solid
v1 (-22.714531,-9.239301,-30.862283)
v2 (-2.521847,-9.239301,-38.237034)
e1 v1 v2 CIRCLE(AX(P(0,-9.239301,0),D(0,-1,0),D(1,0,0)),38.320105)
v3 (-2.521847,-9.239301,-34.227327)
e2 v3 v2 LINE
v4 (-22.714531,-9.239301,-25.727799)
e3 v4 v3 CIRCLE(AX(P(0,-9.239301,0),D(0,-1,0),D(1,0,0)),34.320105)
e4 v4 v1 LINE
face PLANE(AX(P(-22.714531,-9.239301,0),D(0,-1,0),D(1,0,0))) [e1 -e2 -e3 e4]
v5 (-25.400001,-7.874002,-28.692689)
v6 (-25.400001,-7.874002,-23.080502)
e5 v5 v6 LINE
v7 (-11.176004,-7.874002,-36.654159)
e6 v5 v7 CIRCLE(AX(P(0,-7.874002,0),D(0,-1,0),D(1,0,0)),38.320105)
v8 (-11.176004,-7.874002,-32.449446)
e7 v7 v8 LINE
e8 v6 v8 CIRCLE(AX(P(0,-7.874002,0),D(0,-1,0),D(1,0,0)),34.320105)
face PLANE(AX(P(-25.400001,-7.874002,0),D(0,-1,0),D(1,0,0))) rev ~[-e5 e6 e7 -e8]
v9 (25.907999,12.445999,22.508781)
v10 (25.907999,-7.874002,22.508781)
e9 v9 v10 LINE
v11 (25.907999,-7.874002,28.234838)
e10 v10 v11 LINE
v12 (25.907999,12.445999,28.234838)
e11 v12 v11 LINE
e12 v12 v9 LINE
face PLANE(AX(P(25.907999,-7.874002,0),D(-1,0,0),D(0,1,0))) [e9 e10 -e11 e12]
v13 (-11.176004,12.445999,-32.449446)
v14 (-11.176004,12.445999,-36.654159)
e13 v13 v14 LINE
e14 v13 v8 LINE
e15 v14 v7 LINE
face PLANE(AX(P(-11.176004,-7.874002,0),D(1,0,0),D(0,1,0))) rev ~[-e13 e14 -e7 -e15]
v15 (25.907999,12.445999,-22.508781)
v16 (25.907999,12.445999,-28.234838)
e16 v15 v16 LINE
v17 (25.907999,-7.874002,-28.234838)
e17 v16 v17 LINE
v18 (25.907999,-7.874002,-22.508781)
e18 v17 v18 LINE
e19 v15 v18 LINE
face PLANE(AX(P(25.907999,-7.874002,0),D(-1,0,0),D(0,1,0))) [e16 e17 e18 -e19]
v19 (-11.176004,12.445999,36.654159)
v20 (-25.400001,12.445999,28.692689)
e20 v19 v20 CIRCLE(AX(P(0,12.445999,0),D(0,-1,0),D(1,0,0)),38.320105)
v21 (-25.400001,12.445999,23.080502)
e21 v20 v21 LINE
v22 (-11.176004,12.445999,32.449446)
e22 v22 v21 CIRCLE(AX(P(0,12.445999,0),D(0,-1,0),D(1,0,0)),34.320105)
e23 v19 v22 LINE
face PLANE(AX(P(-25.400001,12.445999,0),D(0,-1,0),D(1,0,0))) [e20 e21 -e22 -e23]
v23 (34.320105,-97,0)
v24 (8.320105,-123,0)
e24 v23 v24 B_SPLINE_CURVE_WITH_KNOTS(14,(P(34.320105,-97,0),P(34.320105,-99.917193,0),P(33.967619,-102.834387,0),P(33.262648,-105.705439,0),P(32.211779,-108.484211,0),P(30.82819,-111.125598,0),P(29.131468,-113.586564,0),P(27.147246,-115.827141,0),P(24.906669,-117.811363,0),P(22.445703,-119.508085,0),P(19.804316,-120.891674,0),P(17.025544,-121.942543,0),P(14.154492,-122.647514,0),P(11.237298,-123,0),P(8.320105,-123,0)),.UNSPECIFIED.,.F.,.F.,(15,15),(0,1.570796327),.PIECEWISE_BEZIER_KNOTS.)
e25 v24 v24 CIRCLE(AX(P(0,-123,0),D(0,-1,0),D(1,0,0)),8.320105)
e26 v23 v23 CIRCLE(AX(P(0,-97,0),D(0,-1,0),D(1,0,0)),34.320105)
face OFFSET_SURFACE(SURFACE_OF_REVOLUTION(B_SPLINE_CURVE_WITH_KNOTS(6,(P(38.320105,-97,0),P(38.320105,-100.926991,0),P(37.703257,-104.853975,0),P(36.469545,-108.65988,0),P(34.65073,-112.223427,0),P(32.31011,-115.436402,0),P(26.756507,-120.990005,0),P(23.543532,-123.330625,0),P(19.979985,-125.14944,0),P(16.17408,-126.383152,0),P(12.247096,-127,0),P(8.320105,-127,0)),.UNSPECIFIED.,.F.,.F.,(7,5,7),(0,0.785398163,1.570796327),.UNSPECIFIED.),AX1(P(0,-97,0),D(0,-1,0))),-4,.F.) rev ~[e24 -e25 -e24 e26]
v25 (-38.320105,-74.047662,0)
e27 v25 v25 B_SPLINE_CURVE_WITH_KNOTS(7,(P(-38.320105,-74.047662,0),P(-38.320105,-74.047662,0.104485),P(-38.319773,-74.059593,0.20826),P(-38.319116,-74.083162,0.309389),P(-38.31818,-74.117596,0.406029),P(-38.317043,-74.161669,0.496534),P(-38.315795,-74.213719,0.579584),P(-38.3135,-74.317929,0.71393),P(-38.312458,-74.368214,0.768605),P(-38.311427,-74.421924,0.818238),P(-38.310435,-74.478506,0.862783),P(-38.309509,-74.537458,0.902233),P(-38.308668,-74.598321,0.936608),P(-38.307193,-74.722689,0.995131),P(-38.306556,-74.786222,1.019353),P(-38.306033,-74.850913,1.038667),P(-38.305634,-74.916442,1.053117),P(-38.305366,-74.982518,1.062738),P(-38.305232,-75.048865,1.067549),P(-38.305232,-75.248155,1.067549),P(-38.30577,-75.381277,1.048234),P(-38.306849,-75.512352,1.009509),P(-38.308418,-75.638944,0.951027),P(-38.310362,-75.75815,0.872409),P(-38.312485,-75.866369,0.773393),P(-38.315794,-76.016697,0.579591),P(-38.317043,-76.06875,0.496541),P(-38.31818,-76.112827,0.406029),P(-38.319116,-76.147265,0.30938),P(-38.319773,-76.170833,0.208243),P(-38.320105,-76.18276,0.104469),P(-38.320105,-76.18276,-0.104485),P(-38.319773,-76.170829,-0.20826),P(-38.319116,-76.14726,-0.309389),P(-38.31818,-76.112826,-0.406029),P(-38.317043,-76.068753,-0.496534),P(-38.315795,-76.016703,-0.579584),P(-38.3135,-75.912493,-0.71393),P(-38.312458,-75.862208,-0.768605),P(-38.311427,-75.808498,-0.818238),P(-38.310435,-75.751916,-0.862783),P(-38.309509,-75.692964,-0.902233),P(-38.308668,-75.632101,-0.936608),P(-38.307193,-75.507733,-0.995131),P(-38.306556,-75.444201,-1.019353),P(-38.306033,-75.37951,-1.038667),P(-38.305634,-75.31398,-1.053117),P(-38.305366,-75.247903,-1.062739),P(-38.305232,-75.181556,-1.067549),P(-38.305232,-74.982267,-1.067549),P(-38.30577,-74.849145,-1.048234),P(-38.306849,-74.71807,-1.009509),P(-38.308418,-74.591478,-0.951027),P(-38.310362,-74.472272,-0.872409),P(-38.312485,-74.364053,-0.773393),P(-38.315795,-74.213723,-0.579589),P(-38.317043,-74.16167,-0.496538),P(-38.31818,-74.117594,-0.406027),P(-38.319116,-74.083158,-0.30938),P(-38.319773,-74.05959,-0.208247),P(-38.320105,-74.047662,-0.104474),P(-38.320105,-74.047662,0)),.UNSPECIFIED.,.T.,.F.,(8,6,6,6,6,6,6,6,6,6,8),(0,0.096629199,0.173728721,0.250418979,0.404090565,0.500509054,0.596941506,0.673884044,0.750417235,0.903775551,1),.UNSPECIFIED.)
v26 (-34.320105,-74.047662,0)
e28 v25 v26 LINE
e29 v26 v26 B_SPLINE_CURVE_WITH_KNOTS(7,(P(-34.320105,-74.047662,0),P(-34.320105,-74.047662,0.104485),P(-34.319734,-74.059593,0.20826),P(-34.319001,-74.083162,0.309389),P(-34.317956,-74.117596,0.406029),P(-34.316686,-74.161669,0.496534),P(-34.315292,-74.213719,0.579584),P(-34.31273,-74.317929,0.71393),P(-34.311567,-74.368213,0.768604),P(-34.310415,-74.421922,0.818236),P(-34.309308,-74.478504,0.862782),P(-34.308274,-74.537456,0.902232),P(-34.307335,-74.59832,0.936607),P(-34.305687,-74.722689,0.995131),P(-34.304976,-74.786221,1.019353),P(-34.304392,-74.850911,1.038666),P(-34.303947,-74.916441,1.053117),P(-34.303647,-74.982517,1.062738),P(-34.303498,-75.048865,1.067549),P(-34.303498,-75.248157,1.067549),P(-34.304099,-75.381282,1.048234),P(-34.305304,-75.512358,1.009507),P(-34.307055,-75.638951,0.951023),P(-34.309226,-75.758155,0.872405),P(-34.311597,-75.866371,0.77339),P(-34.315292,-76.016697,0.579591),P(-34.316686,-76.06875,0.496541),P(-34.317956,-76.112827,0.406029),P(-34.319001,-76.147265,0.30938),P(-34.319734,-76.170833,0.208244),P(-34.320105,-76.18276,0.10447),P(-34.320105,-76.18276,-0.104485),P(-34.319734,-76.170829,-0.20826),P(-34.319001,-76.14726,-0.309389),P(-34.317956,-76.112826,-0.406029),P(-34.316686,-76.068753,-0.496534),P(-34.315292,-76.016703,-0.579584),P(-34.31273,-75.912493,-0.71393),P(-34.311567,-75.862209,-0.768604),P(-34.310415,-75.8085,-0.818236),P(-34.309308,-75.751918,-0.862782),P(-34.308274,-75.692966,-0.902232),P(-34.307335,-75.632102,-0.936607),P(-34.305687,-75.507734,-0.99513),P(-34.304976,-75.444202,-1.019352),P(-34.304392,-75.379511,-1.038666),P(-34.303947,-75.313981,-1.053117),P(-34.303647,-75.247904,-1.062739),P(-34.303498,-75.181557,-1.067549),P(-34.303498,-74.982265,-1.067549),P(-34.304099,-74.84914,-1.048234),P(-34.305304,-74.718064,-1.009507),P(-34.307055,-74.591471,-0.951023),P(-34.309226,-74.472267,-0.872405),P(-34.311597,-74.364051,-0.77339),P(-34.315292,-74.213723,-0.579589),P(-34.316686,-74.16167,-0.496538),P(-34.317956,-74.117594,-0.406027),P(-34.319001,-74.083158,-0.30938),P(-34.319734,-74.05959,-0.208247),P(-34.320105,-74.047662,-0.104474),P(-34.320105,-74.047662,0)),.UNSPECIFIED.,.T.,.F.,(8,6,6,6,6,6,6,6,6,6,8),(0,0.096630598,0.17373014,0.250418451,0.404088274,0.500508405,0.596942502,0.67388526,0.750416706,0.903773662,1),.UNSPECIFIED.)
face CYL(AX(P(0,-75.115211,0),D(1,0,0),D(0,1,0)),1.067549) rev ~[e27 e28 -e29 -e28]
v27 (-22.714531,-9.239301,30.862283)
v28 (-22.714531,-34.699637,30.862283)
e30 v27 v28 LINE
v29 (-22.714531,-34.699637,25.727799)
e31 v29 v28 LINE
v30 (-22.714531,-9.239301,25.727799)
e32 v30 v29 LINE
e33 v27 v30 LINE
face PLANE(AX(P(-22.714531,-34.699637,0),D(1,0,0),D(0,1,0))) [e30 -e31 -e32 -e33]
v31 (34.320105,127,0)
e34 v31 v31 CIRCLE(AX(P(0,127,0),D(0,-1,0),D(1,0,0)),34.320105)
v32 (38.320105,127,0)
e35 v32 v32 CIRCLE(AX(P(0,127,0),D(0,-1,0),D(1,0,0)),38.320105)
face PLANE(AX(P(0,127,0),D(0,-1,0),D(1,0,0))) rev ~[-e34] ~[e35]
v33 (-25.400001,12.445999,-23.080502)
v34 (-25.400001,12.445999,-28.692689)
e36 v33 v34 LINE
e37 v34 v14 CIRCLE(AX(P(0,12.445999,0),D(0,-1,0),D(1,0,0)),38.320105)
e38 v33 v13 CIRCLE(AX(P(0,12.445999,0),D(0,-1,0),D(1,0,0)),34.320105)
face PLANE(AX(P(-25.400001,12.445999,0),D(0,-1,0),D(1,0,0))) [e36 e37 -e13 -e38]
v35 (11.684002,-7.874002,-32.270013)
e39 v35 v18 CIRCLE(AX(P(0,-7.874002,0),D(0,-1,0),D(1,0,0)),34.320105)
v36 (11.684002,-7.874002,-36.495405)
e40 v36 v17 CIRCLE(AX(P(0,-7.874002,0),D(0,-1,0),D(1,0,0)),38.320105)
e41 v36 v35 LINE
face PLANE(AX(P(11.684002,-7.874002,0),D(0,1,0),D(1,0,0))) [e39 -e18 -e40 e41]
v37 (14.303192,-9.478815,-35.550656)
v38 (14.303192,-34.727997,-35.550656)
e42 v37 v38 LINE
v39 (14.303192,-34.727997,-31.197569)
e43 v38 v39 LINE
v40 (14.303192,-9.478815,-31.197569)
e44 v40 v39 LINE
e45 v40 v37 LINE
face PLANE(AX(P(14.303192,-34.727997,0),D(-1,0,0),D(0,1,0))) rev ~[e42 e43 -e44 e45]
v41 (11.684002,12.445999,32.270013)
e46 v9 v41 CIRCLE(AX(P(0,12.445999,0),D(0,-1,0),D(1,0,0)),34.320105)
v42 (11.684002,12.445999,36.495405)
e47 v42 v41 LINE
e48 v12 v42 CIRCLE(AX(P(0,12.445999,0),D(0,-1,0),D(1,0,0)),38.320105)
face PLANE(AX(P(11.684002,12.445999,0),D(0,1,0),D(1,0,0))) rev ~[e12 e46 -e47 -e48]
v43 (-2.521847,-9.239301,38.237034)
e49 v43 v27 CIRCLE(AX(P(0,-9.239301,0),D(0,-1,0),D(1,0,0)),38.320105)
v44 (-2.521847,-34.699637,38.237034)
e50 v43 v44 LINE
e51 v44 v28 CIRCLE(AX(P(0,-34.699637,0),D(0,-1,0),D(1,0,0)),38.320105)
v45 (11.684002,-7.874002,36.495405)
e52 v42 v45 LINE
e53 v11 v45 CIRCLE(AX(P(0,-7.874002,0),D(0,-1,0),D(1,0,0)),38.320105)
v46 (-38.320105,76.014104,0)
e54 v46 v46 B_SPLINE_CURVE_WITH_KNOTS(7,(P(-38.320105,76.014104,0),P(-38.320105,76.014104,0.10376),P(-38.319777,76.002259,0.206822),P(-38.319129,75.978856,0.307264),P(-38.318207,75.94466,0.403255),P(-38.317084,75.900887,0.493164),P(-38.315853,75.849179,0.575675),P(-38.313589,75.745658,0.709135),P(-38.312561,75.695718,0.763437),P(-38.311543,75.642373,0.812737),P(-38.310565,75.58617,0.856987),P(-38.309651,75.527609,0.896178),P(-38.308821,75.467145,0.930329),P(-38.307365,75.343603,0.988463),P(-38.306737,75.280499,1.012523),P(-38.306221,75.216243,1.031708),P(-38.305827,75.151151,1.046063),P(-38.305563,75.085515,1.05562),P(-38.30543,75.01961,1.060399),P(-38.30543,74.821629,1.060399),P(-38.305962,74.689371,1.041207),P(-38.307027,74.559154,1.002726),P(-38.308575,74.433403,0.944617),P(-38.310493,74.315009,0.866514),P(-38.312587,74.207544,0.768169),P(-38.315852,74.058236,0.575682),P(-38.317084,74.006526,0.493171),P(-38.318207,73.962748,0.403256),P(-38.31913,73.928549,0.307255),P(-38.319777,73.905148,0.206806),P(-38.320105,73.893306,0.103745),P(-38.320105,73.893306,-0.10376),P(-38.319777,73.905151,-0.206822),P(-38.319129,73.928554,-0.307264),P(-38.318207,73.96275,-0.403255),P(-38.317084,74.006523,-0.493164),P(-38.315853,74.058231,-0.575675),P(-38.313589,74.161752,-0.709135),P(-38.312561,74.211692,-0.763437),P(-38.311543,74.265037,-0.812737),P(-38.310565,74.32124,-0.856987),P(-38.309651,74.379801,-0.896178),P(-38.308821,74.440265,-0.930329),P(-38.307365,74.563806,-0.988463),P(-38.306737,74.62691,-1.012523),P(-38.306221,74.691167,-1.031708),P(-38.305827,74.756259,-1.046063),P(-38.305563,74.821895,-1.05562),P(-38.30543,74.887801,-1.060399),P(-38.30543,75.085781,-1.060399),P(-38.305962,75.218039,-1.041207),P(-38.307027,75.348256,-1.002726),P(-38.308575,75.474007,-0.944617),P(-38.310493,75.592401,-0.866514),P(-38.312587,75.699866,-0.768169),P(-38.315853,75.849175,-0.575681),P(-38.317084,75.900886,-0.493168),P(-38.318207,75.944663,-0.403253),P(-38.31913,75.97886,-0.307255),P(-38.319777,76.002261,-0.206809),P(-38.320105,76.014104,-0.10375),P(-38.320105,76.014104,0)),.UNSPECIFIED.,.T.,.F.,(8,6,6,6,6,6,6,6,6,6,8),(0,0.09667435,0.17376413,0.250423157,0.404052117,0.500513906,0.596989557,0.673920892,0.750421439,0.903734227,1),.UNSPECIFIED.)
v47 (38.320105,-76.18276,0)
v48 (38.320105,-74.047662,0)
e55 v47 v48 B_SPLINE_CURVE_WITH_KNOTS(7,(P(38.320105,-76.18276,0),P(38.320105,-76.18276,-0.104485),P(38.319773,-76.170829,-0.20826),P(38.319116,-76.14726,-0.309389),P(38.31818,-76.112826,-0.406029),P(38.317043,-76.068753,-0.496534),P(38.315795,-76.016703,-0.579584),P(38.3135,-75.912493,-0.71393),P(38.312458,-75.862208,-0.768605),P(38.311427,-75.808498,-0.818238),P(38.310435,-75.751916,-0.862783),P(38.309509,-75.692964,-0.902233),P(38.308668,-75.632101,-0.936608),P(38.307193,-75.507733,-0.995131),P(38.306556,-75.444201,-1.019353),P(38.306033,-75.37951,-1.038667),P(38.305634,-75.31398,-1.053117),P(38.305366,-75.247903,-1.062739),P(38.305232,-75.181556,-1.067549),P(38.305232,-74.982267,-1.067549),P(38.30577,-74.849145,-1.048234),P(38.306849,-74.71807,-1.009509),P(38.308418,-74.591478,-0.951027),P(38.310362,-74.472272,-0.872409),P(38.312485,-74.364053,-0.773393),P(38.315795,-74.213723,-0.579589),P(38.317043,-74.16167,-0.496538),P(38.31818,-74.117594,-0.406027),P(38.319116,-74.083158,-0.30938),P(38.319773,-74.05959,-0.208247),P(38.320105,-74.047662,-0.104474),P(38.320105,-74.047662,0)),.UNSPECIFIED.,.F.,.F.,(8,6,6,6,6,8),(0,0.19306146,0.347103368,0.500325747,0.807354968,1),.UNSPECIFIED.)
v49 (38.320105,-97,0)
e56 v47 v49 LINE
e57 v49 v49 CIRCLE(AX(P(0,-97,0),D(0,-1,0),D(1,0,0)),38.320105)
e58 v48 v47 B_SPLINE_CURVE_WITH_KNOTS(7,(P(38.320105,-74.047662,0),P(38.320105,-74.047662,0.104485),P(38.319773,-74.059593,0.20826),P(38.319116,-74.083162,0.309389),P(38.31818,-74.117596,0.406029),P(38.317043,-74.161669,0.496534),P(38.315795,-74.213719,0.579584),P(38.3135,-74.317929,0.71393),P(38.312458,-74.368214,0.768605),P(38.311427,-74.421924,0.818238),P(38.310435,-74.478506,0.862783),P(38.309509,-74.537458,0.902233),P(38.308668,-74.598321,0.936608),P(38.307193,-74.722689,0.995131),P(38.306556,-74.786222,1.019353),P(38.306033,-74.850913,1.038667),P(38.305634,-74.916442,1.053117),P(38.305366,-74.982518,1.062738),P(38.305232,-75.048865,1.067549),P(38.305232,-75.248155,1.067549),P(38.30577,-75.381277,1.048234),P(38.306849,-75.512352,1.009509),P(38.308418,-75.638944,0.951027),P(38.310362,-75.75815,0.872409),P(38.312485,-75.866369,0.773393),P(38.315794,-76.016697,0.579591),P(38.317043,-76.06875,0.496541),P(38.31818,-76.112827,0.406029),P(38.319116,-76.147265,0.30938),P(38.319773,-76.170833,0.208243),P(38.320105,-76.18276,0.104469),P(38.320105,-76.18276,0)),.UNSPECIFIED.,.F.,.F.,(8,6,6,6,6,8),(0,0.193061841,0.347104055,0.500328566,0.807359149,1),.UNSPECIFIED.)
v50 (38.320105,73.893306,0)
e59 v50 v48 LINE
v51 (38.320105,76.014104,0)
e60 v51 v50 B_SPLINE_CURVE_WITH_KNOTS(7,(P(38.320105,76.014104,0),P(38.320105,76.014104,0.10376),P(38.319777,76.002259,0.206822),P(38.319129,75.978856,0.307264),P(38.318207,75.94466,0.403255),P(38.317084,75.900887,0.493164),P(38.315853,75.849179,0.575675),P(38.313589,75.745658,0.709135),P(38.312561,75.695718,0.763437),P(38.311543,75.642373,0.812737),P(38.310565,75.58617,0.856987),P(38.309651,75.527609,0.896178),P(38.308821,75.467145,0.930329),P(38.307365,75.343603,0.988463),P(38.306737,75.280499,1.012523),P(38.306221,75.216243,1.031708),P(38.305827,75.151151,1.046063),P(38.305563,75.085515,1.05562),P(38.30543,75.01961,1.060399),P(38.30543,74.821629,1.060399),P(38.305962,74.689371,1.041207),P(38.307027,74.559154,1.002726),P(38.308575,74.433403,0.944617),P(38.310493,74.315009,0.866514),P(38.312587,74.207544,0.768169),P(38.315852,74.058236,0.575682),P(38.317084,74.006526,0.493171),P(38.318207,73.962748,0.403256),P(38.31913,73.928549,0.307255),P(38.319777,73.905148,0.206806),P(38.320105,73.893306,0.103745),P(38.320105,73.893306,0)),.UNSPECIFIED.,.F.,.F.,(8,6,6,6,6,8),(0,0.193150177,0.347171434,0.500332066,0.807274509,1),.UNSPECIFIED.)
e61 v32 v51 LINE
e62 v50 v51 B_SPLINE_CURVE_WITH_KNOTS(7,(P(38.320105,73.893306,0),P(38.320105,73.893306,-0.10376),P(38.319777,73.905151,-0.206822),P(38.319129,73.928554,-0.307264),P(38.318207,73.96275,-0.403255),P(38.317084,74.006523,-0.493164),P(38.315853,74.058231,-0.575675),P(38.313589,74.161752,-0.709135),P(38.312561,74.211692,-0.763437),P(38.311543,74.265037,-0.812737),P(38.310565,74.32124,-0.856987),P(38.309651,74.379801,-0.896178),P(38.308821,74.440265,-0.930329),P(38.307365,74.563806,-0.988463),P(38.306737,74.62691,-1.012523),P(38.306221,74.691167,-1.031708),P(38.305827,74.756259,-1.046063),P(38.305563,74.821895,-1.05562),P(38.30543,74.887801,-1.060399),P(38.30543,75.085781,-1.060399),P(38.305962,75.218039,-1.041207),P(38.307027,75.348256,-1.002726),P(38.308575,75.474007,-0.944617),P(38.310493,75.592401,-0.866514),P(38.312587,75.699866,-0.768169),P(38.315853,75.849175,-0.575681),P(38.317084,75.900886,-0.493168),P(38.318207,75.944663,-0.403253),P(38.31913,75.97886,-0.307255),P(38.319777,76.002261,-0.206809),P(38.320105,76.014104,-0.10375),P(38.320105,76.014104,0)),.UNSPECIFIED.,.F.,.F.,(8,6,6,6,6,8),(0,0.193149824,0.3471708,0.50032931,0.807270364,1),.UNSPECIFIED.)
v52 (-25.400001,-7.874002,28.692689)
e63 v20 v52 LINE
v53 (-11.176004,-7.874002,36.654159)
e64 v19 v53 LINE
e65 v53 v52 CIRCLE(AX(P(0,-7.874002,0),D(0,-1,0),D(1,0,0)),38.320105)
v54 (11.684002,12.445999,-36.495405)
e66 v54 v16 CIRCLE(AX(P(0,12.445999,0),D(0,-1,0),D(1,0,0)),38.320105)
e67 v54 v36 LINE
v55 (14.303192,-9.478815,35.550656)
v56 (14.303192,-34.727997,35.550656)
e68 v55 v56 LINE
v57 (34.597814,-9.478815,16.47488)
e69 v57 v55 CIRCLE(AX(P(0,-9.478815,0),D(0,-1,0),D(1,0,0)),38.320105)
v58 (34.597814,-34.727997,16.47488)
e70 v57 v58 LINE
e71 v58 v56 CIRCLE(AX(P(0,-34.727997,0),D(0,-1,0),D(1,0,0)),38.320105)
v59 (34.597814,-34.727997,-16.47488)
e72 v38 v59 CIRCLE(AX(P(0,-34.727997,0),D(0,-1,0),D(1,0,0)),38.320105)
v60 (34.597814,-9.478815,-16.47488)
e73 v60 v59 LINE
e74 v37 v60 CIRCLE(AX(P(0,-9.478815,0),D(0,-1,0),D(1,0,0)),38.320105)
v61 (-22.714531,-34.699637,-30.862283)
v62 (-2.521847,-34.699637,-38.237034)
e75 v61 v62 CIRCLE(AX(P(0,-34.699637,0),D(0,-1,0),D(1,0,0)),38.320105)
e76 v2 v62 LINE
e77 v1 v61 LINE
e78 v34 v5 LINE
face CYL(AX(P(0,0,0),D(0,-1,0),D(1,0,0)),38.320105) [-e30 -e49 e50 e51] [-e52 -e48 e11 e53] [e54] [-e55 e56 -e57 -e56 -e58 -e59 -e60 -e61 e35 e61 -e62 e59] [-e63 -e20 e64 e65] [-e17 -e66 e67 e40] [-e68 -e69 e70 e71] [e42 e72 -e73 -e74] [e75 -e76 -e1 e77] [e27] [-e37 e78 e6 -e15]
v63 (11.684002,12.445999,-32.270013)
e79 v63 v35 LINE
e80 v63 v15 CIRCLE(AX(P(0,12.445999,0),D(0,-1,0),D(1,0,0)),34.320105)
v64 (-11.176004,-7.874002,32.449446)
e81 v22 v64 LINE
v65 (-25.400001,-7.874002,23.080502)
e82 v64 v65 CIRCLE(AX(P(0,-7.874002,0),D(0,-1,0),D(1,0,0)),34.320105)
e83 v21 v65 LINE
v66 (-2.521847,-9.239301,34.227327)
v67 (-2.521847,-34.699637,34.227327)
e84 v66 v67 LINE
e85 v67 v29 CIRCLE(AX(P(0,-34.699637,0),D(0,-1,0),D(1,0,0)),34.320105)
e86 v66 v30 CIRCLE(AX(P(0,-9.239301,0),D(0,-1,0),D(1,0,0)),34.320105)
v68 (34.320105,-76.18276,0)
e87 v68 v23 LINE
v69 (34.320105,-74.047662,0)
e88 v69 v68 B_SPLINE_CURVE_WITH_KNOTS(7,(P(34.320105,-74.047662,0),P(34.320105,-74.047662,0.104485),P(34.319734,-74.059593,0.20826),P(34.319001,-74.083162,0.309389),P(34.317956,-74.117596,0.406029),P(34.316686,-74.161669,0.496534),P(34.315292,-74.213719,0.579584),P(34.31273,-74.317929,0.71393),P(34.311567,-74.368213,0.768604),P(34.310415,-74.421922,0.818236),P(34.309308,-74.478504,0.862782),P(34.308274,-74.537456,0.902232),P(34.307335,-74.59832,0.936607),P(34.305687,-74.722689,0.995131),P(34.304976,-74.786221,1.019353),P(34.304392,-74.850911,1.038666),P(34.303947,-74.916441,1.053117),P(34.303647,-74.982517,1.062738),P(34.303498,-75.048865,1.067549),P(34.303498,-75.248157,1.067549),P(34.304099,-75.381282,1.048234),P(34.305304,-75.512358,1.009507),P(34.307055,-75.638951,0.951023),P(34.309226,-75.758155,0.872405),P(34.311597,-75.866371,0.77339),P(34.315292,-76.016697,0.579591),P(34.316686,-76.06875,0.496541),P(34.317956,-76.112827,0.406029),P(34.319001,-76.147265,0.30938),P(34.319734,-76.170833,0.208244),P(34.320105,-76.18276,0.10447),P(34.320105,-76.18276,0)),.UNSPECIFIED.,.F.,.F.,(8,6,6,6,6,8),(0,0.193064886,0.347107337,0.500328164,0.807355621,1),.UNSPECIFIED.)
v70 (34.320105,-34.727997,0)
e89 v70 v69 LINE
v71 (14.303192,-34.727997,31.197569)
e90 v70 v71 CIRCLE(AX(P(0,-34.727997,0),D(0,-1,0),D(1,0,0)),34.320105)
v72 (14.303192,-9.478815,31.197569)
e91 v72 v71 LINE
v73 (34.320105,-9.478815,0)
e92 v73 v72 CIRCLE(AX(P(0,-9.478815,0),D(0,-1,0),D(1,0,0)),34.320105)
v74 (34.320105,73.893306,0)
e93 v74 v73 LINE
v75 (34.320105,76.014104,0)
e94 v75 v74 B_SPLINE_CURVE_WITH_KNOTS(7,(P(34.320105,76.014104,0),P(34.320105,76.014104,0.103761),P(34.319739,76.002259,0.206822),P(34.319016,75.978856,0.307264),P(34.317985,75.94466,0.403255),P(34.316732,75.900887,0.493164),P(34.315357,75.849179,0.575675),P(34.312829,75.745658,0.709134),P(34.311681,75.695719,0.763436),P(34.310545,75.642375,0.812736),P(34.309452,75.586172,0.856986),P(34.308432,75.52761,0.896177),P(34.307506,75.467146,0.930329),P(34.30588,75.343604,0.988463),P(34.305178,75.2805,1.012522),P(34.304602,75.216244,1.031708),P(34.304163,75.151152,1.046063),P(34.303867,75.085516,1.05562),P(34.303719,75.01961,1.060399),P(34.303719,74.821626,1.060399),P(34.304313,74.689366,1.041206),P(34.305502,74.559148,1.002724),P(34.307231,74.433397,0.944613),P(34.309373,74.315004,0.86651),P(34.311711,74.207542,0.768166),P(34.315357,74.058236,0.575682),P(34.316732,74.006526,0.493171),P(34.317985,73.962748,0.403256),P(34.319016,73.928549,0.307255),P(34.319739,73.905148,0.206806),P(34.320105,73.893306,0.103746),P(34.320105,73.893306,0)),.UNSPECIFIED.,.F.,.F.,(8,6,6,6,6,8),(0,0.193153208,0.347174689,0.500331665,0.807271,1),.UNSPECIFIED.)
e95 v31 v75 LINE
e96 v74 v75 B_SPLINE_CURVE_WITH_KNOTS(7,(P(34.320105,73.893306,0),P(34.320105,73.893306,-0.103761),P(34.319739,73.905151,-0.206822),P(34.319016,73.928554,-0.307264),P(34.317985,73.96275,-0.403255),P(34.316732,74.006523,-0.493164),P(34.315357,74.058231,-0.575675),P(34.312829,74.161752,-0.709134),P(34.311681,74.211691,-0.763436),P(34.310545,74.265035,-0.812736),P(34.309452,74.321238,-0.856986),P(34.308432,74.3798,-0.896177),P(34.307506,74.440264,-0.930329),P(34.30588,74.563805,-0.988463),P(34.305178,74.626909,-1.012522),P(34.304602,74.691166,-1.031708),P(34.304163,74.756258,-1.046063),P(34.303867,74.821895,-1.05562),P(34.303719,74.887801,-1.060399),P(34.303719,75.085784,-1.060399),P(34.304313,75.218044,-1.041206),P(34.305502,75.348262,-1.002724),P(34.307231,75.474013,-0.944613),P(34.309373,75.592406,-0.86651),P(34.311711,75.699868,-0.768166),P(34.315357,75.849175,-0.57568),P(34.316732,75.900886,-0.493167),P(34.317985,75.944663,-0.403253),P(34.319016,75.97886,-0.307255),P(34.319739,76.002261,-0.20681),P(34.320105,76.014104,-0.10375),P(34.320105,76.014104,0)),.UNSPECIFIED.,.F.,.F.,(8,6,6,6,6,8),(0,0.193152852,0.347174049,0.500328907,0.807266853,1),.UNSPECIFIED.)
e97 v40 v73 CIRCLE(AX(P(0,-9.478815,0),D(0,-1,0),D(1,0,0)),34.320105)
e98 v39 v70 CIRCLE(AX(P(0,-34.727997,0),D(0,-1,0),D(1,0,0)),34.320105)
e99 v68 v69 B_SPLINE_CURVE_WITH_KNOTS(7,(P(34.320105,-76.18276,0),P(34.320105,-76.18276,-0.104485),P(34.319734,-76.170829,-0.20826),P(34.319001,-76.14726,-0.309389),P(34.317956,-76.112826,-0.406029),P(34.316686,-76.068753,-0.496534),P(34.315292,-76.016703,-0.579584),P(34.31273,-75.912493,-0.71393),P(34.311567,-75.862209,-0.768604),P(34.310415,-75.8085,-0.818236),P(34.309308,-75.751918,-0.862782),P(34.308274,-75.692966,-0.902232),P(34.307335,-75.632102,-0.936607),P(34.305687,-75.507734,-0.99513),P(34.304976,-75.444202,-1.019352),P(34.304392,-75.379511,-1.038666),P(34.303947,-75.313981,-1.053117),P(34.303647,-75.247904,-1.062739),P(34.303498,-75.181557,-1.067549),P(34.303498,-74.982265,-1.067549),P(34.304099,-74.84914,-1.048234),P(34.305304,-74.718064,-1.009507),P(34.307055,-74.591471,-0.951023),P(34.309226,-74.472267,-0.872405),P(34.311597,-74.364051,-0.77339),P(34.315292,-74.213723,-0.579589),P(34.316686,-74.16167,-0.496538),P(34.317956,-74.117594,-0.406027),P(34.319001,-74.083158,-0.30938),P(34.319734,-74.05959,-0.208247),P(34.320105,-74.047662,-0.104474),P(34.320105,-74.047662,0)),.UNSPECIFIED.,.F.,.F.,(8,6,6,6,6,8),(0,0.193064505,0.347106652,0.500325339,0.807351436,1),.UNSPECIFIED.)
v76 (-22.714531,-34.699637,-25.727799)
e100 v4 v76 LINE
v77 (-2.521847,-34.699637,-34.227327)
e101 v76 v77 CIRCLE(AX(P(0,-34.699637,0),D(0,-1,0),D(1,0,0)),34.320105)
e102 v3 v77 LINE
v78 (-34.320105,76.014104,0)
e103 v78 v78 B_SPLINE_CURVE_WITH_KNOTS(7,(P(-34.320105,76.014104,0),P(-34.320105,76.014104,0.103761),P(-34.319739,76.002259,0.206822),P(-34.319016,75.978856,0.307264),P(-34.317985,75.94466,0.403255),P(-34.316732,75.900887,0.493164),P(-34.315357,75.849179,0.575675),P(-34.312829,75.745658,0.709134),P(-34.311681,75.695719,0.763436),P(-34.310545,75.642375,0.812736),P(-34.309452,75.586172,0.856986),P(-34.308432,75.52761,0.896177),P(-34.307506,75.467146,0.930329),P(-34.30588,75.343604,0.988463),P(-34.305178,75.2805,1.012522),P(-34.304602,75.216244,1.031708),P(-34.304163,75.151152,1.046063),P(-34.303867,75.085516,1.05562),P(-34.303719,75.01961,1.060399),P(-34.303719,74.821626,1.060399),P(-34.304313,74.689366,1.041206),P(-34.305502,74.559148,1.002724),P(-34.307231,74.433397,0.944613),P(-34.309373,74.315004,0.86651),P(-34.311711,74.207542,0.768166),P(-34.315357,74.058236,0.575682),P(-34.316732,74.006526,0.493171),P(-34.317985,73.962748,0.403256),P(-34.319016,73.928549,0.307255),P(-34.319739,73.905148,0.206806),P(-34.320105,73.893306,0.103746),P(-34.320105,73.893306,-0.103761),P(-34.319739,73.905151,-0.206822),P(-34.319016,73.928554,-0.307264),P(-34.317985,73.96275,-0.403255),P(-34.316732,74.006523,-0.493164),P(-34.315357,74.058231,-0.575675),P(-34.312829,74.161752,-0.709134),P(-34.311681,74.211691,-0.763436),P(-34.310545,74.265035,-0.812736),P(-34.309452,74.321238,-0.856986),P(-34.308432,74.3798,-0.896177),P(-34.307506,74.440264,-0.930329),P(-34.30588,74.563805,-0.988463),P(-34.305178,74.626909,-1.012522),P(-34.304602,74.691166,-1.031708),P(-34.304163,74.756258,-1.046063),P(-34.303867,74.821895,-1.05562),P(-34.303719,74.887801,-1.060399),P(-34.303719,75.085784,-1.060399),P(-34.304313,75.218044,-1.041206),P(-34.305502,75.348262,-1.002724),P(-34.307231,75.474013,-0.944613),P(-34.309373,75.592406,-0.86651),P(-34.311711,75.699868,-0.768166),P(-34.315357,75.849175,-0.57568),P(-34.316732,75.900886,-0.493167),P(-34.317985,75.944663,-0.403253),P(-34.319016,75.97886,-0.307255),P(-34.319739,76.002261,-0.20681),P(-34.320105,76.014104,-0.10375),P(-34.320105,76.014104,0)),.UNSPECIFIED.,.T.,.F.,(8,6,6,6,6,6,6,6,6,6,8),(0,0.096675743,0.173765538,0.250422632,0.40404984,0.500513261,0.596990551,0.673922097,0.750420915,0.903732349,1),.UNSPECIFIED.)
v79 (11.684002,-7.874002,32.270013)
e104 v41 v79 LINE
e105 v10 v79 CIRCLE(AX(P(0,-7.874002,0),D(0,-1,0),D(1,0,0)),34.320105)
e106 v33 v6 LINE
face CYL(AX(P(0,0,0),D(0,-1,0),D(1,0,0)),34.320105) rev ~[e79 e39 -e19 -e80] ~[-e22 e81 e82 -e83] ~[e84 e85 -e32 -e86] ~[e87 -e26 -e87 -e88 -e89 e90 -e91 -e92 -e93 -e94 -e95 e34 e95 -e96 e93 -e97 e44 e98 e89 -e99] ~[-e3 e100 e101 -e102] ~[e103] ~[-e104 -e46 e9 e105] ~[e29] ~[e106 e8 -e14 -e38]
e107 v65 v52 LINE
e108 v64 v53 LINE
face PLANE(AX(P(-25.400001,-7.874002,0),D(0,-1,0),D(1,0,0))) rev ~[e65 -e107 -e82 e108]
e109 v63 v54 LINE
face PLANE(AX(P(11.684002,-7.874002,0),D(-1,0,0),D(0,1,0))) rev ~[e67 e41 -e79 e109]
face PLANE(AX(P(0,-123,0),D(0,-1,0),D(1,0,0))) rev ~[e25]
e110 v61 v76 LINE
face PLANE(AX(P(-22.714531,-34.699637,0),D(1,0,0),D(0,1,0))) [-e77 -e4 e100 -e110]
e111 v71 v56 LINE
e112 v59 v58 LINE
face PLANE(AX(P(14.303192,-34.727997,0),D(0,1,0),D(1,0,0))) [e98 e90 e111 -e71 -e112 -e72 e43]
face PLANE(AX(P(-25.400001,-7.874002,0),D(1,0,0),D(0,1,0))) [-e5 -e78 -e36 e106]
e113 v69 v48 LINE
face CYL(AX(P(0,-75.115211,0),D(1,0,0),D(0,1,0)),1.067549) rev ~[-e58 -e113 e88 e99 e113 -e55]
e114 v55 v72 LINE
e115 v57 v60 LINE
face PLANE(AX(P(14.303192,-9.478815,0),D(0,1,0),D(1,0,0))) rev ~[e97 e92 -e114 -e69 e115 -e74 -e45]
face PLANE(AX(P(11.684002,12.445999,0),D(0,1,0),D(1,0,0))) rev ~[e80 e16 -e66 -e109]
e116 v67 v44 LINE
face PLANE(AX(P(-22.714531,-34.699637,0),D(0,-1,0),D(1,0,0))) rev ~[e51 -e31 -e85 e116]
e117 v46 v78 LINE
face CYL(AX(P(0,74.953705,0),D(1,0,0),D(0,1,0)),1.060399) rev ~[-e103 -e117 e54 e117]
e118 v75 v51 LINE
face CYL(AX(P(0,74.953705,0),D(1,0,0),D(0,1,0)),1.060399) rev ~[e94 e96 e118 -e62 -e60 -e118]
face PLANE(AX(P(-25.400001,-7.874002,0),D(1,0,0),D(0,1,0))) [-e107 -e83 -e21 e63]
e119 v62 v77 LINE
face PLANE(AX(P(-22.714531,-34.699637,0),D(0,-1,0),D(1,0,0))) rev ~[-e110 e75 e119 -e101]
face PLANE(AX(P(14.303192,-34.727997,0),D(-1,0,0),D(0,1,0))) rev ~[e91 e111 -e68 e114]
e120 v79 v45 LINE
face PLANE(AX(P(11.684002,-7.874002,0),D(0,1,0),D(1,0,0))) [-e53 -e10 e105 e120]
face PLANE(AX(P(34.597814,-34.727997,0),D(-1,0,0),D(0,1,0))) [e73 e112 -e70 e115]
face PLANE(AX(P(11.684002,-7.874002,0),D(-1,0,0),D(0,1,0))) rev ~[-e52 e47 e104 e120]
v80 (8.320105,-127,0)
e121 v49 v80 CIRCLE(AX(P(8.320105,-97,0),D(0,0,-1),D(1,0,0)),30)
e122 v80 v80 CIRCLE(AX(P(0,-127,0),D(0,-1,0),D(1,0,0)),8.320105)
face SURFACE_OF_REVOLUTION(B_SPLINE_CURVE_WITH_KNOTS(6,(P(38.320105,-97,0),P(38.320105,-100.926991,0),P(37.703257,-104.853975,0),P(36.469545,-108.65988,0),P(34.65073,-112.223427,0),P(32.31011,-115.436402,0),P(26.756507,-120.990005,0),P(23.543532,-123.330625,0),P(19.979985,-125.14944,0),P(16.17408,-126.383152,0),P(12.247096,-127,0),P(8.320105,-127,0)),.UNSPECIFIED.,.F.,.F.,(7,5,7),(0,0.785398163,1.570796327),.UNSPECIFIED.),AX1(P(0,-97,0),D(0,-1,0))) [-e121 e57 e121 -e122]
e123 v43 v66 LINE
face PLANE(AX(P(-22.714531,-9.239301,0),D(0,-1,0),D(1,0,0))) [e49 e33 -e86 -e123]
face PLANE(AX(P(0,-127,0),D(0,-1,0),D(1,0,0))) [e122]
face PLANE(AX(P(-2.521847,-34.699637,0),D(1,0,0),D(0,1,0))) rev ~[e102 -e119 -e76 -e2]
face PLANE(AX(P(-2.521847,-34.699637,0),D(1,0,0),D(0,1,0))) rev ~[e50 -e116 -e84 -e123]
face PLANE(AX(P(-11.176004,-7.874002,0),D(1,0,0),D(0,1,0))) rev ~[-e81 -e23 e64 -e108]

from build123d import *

# Parameters (mm, degrees)
F0_R     = 38.320105
F1_DEPTH = 127
F2_R     = 30
F3_T     = -4
F4_R     = 1.067549
F5_DEPTH = 50
F4_R_2   = 1.060399
F6_DEPTH = 50
F7_W     = 14.223997
F7_H     = 20.320001
F8_DEPTH = 50
F7_W_2   = 20.294623
F7_H_2   = 25.249181
F7_W_3   = 20.192685
F7_H_3   = 25.460336
F9_DEPTH = 50


with BuildPart() as f1:
    # F0 (on Front) → F1 (new body, symmetric)
    with BuildSketch(Plane.XZ):
        Circle(F0_R)
    extrude(amount=F1_DEPTH, both=True)

    # F2
    f2_edges = [f1.edges().sort_by_distance(p)[0] for p in [
        (-38.320105, -127, 0),
    ]]
    fillet(f2_edges, radius=F2_R)

    # F3
    f3_openings = [f1.faces().sort_by_distance(p)[0] for p in [
        (0, 127, 0),
    ]]
    offset(amount=F3_T, openings=f3_openings)

    # F4 (on Right) → F5 (cut, symmetric)
    with BuildSketch(Plane.YZ):
        with Locations((-75.115211, 0)):
            Circle(F4_R)
    extrude(amount=F5_DEPTH, both=True, mode=Mode.SUBTRACT)

    # F4 (on Right) → F6 (cut, symmetric)
    with BuildSketch(Plane.YZ):
        with Locations((74.953705, 0)):
            Circle(F4_R_2)
    extrude(amount=F6_DEPTH, both=True, mode=Mode.SUBTRACT)

    # F7 (on Top) → F8 (cut, symmetric)
    with BuildSketch(Plane.XY):
        with Locations((18.796, 2.285999)):
            Rectangle(F7_W, F7_H)
        with Locations((-18.288002, 2.285999)):
            Rectangle(F7_W, F7_H)
    extrude(amount=F8_DEPTH, both=True, mode=Mode.SUBTRACT)

    # F7 (on Top) → F9 (cut, symmetric)
    with BuildSketch(Plane.XY):
        with Locations((24.450503, -22.103406)):
            Rectangle(F7_W_2, F7_H_2)
        with Locations((-12.618189, -21.969469)):
            Rectangle(F7_W_3, F7_H_3)
    extrude(amount=F9_DEPTH, both=True, mode=Mode.SUBTRACT)


solid = f1.part
